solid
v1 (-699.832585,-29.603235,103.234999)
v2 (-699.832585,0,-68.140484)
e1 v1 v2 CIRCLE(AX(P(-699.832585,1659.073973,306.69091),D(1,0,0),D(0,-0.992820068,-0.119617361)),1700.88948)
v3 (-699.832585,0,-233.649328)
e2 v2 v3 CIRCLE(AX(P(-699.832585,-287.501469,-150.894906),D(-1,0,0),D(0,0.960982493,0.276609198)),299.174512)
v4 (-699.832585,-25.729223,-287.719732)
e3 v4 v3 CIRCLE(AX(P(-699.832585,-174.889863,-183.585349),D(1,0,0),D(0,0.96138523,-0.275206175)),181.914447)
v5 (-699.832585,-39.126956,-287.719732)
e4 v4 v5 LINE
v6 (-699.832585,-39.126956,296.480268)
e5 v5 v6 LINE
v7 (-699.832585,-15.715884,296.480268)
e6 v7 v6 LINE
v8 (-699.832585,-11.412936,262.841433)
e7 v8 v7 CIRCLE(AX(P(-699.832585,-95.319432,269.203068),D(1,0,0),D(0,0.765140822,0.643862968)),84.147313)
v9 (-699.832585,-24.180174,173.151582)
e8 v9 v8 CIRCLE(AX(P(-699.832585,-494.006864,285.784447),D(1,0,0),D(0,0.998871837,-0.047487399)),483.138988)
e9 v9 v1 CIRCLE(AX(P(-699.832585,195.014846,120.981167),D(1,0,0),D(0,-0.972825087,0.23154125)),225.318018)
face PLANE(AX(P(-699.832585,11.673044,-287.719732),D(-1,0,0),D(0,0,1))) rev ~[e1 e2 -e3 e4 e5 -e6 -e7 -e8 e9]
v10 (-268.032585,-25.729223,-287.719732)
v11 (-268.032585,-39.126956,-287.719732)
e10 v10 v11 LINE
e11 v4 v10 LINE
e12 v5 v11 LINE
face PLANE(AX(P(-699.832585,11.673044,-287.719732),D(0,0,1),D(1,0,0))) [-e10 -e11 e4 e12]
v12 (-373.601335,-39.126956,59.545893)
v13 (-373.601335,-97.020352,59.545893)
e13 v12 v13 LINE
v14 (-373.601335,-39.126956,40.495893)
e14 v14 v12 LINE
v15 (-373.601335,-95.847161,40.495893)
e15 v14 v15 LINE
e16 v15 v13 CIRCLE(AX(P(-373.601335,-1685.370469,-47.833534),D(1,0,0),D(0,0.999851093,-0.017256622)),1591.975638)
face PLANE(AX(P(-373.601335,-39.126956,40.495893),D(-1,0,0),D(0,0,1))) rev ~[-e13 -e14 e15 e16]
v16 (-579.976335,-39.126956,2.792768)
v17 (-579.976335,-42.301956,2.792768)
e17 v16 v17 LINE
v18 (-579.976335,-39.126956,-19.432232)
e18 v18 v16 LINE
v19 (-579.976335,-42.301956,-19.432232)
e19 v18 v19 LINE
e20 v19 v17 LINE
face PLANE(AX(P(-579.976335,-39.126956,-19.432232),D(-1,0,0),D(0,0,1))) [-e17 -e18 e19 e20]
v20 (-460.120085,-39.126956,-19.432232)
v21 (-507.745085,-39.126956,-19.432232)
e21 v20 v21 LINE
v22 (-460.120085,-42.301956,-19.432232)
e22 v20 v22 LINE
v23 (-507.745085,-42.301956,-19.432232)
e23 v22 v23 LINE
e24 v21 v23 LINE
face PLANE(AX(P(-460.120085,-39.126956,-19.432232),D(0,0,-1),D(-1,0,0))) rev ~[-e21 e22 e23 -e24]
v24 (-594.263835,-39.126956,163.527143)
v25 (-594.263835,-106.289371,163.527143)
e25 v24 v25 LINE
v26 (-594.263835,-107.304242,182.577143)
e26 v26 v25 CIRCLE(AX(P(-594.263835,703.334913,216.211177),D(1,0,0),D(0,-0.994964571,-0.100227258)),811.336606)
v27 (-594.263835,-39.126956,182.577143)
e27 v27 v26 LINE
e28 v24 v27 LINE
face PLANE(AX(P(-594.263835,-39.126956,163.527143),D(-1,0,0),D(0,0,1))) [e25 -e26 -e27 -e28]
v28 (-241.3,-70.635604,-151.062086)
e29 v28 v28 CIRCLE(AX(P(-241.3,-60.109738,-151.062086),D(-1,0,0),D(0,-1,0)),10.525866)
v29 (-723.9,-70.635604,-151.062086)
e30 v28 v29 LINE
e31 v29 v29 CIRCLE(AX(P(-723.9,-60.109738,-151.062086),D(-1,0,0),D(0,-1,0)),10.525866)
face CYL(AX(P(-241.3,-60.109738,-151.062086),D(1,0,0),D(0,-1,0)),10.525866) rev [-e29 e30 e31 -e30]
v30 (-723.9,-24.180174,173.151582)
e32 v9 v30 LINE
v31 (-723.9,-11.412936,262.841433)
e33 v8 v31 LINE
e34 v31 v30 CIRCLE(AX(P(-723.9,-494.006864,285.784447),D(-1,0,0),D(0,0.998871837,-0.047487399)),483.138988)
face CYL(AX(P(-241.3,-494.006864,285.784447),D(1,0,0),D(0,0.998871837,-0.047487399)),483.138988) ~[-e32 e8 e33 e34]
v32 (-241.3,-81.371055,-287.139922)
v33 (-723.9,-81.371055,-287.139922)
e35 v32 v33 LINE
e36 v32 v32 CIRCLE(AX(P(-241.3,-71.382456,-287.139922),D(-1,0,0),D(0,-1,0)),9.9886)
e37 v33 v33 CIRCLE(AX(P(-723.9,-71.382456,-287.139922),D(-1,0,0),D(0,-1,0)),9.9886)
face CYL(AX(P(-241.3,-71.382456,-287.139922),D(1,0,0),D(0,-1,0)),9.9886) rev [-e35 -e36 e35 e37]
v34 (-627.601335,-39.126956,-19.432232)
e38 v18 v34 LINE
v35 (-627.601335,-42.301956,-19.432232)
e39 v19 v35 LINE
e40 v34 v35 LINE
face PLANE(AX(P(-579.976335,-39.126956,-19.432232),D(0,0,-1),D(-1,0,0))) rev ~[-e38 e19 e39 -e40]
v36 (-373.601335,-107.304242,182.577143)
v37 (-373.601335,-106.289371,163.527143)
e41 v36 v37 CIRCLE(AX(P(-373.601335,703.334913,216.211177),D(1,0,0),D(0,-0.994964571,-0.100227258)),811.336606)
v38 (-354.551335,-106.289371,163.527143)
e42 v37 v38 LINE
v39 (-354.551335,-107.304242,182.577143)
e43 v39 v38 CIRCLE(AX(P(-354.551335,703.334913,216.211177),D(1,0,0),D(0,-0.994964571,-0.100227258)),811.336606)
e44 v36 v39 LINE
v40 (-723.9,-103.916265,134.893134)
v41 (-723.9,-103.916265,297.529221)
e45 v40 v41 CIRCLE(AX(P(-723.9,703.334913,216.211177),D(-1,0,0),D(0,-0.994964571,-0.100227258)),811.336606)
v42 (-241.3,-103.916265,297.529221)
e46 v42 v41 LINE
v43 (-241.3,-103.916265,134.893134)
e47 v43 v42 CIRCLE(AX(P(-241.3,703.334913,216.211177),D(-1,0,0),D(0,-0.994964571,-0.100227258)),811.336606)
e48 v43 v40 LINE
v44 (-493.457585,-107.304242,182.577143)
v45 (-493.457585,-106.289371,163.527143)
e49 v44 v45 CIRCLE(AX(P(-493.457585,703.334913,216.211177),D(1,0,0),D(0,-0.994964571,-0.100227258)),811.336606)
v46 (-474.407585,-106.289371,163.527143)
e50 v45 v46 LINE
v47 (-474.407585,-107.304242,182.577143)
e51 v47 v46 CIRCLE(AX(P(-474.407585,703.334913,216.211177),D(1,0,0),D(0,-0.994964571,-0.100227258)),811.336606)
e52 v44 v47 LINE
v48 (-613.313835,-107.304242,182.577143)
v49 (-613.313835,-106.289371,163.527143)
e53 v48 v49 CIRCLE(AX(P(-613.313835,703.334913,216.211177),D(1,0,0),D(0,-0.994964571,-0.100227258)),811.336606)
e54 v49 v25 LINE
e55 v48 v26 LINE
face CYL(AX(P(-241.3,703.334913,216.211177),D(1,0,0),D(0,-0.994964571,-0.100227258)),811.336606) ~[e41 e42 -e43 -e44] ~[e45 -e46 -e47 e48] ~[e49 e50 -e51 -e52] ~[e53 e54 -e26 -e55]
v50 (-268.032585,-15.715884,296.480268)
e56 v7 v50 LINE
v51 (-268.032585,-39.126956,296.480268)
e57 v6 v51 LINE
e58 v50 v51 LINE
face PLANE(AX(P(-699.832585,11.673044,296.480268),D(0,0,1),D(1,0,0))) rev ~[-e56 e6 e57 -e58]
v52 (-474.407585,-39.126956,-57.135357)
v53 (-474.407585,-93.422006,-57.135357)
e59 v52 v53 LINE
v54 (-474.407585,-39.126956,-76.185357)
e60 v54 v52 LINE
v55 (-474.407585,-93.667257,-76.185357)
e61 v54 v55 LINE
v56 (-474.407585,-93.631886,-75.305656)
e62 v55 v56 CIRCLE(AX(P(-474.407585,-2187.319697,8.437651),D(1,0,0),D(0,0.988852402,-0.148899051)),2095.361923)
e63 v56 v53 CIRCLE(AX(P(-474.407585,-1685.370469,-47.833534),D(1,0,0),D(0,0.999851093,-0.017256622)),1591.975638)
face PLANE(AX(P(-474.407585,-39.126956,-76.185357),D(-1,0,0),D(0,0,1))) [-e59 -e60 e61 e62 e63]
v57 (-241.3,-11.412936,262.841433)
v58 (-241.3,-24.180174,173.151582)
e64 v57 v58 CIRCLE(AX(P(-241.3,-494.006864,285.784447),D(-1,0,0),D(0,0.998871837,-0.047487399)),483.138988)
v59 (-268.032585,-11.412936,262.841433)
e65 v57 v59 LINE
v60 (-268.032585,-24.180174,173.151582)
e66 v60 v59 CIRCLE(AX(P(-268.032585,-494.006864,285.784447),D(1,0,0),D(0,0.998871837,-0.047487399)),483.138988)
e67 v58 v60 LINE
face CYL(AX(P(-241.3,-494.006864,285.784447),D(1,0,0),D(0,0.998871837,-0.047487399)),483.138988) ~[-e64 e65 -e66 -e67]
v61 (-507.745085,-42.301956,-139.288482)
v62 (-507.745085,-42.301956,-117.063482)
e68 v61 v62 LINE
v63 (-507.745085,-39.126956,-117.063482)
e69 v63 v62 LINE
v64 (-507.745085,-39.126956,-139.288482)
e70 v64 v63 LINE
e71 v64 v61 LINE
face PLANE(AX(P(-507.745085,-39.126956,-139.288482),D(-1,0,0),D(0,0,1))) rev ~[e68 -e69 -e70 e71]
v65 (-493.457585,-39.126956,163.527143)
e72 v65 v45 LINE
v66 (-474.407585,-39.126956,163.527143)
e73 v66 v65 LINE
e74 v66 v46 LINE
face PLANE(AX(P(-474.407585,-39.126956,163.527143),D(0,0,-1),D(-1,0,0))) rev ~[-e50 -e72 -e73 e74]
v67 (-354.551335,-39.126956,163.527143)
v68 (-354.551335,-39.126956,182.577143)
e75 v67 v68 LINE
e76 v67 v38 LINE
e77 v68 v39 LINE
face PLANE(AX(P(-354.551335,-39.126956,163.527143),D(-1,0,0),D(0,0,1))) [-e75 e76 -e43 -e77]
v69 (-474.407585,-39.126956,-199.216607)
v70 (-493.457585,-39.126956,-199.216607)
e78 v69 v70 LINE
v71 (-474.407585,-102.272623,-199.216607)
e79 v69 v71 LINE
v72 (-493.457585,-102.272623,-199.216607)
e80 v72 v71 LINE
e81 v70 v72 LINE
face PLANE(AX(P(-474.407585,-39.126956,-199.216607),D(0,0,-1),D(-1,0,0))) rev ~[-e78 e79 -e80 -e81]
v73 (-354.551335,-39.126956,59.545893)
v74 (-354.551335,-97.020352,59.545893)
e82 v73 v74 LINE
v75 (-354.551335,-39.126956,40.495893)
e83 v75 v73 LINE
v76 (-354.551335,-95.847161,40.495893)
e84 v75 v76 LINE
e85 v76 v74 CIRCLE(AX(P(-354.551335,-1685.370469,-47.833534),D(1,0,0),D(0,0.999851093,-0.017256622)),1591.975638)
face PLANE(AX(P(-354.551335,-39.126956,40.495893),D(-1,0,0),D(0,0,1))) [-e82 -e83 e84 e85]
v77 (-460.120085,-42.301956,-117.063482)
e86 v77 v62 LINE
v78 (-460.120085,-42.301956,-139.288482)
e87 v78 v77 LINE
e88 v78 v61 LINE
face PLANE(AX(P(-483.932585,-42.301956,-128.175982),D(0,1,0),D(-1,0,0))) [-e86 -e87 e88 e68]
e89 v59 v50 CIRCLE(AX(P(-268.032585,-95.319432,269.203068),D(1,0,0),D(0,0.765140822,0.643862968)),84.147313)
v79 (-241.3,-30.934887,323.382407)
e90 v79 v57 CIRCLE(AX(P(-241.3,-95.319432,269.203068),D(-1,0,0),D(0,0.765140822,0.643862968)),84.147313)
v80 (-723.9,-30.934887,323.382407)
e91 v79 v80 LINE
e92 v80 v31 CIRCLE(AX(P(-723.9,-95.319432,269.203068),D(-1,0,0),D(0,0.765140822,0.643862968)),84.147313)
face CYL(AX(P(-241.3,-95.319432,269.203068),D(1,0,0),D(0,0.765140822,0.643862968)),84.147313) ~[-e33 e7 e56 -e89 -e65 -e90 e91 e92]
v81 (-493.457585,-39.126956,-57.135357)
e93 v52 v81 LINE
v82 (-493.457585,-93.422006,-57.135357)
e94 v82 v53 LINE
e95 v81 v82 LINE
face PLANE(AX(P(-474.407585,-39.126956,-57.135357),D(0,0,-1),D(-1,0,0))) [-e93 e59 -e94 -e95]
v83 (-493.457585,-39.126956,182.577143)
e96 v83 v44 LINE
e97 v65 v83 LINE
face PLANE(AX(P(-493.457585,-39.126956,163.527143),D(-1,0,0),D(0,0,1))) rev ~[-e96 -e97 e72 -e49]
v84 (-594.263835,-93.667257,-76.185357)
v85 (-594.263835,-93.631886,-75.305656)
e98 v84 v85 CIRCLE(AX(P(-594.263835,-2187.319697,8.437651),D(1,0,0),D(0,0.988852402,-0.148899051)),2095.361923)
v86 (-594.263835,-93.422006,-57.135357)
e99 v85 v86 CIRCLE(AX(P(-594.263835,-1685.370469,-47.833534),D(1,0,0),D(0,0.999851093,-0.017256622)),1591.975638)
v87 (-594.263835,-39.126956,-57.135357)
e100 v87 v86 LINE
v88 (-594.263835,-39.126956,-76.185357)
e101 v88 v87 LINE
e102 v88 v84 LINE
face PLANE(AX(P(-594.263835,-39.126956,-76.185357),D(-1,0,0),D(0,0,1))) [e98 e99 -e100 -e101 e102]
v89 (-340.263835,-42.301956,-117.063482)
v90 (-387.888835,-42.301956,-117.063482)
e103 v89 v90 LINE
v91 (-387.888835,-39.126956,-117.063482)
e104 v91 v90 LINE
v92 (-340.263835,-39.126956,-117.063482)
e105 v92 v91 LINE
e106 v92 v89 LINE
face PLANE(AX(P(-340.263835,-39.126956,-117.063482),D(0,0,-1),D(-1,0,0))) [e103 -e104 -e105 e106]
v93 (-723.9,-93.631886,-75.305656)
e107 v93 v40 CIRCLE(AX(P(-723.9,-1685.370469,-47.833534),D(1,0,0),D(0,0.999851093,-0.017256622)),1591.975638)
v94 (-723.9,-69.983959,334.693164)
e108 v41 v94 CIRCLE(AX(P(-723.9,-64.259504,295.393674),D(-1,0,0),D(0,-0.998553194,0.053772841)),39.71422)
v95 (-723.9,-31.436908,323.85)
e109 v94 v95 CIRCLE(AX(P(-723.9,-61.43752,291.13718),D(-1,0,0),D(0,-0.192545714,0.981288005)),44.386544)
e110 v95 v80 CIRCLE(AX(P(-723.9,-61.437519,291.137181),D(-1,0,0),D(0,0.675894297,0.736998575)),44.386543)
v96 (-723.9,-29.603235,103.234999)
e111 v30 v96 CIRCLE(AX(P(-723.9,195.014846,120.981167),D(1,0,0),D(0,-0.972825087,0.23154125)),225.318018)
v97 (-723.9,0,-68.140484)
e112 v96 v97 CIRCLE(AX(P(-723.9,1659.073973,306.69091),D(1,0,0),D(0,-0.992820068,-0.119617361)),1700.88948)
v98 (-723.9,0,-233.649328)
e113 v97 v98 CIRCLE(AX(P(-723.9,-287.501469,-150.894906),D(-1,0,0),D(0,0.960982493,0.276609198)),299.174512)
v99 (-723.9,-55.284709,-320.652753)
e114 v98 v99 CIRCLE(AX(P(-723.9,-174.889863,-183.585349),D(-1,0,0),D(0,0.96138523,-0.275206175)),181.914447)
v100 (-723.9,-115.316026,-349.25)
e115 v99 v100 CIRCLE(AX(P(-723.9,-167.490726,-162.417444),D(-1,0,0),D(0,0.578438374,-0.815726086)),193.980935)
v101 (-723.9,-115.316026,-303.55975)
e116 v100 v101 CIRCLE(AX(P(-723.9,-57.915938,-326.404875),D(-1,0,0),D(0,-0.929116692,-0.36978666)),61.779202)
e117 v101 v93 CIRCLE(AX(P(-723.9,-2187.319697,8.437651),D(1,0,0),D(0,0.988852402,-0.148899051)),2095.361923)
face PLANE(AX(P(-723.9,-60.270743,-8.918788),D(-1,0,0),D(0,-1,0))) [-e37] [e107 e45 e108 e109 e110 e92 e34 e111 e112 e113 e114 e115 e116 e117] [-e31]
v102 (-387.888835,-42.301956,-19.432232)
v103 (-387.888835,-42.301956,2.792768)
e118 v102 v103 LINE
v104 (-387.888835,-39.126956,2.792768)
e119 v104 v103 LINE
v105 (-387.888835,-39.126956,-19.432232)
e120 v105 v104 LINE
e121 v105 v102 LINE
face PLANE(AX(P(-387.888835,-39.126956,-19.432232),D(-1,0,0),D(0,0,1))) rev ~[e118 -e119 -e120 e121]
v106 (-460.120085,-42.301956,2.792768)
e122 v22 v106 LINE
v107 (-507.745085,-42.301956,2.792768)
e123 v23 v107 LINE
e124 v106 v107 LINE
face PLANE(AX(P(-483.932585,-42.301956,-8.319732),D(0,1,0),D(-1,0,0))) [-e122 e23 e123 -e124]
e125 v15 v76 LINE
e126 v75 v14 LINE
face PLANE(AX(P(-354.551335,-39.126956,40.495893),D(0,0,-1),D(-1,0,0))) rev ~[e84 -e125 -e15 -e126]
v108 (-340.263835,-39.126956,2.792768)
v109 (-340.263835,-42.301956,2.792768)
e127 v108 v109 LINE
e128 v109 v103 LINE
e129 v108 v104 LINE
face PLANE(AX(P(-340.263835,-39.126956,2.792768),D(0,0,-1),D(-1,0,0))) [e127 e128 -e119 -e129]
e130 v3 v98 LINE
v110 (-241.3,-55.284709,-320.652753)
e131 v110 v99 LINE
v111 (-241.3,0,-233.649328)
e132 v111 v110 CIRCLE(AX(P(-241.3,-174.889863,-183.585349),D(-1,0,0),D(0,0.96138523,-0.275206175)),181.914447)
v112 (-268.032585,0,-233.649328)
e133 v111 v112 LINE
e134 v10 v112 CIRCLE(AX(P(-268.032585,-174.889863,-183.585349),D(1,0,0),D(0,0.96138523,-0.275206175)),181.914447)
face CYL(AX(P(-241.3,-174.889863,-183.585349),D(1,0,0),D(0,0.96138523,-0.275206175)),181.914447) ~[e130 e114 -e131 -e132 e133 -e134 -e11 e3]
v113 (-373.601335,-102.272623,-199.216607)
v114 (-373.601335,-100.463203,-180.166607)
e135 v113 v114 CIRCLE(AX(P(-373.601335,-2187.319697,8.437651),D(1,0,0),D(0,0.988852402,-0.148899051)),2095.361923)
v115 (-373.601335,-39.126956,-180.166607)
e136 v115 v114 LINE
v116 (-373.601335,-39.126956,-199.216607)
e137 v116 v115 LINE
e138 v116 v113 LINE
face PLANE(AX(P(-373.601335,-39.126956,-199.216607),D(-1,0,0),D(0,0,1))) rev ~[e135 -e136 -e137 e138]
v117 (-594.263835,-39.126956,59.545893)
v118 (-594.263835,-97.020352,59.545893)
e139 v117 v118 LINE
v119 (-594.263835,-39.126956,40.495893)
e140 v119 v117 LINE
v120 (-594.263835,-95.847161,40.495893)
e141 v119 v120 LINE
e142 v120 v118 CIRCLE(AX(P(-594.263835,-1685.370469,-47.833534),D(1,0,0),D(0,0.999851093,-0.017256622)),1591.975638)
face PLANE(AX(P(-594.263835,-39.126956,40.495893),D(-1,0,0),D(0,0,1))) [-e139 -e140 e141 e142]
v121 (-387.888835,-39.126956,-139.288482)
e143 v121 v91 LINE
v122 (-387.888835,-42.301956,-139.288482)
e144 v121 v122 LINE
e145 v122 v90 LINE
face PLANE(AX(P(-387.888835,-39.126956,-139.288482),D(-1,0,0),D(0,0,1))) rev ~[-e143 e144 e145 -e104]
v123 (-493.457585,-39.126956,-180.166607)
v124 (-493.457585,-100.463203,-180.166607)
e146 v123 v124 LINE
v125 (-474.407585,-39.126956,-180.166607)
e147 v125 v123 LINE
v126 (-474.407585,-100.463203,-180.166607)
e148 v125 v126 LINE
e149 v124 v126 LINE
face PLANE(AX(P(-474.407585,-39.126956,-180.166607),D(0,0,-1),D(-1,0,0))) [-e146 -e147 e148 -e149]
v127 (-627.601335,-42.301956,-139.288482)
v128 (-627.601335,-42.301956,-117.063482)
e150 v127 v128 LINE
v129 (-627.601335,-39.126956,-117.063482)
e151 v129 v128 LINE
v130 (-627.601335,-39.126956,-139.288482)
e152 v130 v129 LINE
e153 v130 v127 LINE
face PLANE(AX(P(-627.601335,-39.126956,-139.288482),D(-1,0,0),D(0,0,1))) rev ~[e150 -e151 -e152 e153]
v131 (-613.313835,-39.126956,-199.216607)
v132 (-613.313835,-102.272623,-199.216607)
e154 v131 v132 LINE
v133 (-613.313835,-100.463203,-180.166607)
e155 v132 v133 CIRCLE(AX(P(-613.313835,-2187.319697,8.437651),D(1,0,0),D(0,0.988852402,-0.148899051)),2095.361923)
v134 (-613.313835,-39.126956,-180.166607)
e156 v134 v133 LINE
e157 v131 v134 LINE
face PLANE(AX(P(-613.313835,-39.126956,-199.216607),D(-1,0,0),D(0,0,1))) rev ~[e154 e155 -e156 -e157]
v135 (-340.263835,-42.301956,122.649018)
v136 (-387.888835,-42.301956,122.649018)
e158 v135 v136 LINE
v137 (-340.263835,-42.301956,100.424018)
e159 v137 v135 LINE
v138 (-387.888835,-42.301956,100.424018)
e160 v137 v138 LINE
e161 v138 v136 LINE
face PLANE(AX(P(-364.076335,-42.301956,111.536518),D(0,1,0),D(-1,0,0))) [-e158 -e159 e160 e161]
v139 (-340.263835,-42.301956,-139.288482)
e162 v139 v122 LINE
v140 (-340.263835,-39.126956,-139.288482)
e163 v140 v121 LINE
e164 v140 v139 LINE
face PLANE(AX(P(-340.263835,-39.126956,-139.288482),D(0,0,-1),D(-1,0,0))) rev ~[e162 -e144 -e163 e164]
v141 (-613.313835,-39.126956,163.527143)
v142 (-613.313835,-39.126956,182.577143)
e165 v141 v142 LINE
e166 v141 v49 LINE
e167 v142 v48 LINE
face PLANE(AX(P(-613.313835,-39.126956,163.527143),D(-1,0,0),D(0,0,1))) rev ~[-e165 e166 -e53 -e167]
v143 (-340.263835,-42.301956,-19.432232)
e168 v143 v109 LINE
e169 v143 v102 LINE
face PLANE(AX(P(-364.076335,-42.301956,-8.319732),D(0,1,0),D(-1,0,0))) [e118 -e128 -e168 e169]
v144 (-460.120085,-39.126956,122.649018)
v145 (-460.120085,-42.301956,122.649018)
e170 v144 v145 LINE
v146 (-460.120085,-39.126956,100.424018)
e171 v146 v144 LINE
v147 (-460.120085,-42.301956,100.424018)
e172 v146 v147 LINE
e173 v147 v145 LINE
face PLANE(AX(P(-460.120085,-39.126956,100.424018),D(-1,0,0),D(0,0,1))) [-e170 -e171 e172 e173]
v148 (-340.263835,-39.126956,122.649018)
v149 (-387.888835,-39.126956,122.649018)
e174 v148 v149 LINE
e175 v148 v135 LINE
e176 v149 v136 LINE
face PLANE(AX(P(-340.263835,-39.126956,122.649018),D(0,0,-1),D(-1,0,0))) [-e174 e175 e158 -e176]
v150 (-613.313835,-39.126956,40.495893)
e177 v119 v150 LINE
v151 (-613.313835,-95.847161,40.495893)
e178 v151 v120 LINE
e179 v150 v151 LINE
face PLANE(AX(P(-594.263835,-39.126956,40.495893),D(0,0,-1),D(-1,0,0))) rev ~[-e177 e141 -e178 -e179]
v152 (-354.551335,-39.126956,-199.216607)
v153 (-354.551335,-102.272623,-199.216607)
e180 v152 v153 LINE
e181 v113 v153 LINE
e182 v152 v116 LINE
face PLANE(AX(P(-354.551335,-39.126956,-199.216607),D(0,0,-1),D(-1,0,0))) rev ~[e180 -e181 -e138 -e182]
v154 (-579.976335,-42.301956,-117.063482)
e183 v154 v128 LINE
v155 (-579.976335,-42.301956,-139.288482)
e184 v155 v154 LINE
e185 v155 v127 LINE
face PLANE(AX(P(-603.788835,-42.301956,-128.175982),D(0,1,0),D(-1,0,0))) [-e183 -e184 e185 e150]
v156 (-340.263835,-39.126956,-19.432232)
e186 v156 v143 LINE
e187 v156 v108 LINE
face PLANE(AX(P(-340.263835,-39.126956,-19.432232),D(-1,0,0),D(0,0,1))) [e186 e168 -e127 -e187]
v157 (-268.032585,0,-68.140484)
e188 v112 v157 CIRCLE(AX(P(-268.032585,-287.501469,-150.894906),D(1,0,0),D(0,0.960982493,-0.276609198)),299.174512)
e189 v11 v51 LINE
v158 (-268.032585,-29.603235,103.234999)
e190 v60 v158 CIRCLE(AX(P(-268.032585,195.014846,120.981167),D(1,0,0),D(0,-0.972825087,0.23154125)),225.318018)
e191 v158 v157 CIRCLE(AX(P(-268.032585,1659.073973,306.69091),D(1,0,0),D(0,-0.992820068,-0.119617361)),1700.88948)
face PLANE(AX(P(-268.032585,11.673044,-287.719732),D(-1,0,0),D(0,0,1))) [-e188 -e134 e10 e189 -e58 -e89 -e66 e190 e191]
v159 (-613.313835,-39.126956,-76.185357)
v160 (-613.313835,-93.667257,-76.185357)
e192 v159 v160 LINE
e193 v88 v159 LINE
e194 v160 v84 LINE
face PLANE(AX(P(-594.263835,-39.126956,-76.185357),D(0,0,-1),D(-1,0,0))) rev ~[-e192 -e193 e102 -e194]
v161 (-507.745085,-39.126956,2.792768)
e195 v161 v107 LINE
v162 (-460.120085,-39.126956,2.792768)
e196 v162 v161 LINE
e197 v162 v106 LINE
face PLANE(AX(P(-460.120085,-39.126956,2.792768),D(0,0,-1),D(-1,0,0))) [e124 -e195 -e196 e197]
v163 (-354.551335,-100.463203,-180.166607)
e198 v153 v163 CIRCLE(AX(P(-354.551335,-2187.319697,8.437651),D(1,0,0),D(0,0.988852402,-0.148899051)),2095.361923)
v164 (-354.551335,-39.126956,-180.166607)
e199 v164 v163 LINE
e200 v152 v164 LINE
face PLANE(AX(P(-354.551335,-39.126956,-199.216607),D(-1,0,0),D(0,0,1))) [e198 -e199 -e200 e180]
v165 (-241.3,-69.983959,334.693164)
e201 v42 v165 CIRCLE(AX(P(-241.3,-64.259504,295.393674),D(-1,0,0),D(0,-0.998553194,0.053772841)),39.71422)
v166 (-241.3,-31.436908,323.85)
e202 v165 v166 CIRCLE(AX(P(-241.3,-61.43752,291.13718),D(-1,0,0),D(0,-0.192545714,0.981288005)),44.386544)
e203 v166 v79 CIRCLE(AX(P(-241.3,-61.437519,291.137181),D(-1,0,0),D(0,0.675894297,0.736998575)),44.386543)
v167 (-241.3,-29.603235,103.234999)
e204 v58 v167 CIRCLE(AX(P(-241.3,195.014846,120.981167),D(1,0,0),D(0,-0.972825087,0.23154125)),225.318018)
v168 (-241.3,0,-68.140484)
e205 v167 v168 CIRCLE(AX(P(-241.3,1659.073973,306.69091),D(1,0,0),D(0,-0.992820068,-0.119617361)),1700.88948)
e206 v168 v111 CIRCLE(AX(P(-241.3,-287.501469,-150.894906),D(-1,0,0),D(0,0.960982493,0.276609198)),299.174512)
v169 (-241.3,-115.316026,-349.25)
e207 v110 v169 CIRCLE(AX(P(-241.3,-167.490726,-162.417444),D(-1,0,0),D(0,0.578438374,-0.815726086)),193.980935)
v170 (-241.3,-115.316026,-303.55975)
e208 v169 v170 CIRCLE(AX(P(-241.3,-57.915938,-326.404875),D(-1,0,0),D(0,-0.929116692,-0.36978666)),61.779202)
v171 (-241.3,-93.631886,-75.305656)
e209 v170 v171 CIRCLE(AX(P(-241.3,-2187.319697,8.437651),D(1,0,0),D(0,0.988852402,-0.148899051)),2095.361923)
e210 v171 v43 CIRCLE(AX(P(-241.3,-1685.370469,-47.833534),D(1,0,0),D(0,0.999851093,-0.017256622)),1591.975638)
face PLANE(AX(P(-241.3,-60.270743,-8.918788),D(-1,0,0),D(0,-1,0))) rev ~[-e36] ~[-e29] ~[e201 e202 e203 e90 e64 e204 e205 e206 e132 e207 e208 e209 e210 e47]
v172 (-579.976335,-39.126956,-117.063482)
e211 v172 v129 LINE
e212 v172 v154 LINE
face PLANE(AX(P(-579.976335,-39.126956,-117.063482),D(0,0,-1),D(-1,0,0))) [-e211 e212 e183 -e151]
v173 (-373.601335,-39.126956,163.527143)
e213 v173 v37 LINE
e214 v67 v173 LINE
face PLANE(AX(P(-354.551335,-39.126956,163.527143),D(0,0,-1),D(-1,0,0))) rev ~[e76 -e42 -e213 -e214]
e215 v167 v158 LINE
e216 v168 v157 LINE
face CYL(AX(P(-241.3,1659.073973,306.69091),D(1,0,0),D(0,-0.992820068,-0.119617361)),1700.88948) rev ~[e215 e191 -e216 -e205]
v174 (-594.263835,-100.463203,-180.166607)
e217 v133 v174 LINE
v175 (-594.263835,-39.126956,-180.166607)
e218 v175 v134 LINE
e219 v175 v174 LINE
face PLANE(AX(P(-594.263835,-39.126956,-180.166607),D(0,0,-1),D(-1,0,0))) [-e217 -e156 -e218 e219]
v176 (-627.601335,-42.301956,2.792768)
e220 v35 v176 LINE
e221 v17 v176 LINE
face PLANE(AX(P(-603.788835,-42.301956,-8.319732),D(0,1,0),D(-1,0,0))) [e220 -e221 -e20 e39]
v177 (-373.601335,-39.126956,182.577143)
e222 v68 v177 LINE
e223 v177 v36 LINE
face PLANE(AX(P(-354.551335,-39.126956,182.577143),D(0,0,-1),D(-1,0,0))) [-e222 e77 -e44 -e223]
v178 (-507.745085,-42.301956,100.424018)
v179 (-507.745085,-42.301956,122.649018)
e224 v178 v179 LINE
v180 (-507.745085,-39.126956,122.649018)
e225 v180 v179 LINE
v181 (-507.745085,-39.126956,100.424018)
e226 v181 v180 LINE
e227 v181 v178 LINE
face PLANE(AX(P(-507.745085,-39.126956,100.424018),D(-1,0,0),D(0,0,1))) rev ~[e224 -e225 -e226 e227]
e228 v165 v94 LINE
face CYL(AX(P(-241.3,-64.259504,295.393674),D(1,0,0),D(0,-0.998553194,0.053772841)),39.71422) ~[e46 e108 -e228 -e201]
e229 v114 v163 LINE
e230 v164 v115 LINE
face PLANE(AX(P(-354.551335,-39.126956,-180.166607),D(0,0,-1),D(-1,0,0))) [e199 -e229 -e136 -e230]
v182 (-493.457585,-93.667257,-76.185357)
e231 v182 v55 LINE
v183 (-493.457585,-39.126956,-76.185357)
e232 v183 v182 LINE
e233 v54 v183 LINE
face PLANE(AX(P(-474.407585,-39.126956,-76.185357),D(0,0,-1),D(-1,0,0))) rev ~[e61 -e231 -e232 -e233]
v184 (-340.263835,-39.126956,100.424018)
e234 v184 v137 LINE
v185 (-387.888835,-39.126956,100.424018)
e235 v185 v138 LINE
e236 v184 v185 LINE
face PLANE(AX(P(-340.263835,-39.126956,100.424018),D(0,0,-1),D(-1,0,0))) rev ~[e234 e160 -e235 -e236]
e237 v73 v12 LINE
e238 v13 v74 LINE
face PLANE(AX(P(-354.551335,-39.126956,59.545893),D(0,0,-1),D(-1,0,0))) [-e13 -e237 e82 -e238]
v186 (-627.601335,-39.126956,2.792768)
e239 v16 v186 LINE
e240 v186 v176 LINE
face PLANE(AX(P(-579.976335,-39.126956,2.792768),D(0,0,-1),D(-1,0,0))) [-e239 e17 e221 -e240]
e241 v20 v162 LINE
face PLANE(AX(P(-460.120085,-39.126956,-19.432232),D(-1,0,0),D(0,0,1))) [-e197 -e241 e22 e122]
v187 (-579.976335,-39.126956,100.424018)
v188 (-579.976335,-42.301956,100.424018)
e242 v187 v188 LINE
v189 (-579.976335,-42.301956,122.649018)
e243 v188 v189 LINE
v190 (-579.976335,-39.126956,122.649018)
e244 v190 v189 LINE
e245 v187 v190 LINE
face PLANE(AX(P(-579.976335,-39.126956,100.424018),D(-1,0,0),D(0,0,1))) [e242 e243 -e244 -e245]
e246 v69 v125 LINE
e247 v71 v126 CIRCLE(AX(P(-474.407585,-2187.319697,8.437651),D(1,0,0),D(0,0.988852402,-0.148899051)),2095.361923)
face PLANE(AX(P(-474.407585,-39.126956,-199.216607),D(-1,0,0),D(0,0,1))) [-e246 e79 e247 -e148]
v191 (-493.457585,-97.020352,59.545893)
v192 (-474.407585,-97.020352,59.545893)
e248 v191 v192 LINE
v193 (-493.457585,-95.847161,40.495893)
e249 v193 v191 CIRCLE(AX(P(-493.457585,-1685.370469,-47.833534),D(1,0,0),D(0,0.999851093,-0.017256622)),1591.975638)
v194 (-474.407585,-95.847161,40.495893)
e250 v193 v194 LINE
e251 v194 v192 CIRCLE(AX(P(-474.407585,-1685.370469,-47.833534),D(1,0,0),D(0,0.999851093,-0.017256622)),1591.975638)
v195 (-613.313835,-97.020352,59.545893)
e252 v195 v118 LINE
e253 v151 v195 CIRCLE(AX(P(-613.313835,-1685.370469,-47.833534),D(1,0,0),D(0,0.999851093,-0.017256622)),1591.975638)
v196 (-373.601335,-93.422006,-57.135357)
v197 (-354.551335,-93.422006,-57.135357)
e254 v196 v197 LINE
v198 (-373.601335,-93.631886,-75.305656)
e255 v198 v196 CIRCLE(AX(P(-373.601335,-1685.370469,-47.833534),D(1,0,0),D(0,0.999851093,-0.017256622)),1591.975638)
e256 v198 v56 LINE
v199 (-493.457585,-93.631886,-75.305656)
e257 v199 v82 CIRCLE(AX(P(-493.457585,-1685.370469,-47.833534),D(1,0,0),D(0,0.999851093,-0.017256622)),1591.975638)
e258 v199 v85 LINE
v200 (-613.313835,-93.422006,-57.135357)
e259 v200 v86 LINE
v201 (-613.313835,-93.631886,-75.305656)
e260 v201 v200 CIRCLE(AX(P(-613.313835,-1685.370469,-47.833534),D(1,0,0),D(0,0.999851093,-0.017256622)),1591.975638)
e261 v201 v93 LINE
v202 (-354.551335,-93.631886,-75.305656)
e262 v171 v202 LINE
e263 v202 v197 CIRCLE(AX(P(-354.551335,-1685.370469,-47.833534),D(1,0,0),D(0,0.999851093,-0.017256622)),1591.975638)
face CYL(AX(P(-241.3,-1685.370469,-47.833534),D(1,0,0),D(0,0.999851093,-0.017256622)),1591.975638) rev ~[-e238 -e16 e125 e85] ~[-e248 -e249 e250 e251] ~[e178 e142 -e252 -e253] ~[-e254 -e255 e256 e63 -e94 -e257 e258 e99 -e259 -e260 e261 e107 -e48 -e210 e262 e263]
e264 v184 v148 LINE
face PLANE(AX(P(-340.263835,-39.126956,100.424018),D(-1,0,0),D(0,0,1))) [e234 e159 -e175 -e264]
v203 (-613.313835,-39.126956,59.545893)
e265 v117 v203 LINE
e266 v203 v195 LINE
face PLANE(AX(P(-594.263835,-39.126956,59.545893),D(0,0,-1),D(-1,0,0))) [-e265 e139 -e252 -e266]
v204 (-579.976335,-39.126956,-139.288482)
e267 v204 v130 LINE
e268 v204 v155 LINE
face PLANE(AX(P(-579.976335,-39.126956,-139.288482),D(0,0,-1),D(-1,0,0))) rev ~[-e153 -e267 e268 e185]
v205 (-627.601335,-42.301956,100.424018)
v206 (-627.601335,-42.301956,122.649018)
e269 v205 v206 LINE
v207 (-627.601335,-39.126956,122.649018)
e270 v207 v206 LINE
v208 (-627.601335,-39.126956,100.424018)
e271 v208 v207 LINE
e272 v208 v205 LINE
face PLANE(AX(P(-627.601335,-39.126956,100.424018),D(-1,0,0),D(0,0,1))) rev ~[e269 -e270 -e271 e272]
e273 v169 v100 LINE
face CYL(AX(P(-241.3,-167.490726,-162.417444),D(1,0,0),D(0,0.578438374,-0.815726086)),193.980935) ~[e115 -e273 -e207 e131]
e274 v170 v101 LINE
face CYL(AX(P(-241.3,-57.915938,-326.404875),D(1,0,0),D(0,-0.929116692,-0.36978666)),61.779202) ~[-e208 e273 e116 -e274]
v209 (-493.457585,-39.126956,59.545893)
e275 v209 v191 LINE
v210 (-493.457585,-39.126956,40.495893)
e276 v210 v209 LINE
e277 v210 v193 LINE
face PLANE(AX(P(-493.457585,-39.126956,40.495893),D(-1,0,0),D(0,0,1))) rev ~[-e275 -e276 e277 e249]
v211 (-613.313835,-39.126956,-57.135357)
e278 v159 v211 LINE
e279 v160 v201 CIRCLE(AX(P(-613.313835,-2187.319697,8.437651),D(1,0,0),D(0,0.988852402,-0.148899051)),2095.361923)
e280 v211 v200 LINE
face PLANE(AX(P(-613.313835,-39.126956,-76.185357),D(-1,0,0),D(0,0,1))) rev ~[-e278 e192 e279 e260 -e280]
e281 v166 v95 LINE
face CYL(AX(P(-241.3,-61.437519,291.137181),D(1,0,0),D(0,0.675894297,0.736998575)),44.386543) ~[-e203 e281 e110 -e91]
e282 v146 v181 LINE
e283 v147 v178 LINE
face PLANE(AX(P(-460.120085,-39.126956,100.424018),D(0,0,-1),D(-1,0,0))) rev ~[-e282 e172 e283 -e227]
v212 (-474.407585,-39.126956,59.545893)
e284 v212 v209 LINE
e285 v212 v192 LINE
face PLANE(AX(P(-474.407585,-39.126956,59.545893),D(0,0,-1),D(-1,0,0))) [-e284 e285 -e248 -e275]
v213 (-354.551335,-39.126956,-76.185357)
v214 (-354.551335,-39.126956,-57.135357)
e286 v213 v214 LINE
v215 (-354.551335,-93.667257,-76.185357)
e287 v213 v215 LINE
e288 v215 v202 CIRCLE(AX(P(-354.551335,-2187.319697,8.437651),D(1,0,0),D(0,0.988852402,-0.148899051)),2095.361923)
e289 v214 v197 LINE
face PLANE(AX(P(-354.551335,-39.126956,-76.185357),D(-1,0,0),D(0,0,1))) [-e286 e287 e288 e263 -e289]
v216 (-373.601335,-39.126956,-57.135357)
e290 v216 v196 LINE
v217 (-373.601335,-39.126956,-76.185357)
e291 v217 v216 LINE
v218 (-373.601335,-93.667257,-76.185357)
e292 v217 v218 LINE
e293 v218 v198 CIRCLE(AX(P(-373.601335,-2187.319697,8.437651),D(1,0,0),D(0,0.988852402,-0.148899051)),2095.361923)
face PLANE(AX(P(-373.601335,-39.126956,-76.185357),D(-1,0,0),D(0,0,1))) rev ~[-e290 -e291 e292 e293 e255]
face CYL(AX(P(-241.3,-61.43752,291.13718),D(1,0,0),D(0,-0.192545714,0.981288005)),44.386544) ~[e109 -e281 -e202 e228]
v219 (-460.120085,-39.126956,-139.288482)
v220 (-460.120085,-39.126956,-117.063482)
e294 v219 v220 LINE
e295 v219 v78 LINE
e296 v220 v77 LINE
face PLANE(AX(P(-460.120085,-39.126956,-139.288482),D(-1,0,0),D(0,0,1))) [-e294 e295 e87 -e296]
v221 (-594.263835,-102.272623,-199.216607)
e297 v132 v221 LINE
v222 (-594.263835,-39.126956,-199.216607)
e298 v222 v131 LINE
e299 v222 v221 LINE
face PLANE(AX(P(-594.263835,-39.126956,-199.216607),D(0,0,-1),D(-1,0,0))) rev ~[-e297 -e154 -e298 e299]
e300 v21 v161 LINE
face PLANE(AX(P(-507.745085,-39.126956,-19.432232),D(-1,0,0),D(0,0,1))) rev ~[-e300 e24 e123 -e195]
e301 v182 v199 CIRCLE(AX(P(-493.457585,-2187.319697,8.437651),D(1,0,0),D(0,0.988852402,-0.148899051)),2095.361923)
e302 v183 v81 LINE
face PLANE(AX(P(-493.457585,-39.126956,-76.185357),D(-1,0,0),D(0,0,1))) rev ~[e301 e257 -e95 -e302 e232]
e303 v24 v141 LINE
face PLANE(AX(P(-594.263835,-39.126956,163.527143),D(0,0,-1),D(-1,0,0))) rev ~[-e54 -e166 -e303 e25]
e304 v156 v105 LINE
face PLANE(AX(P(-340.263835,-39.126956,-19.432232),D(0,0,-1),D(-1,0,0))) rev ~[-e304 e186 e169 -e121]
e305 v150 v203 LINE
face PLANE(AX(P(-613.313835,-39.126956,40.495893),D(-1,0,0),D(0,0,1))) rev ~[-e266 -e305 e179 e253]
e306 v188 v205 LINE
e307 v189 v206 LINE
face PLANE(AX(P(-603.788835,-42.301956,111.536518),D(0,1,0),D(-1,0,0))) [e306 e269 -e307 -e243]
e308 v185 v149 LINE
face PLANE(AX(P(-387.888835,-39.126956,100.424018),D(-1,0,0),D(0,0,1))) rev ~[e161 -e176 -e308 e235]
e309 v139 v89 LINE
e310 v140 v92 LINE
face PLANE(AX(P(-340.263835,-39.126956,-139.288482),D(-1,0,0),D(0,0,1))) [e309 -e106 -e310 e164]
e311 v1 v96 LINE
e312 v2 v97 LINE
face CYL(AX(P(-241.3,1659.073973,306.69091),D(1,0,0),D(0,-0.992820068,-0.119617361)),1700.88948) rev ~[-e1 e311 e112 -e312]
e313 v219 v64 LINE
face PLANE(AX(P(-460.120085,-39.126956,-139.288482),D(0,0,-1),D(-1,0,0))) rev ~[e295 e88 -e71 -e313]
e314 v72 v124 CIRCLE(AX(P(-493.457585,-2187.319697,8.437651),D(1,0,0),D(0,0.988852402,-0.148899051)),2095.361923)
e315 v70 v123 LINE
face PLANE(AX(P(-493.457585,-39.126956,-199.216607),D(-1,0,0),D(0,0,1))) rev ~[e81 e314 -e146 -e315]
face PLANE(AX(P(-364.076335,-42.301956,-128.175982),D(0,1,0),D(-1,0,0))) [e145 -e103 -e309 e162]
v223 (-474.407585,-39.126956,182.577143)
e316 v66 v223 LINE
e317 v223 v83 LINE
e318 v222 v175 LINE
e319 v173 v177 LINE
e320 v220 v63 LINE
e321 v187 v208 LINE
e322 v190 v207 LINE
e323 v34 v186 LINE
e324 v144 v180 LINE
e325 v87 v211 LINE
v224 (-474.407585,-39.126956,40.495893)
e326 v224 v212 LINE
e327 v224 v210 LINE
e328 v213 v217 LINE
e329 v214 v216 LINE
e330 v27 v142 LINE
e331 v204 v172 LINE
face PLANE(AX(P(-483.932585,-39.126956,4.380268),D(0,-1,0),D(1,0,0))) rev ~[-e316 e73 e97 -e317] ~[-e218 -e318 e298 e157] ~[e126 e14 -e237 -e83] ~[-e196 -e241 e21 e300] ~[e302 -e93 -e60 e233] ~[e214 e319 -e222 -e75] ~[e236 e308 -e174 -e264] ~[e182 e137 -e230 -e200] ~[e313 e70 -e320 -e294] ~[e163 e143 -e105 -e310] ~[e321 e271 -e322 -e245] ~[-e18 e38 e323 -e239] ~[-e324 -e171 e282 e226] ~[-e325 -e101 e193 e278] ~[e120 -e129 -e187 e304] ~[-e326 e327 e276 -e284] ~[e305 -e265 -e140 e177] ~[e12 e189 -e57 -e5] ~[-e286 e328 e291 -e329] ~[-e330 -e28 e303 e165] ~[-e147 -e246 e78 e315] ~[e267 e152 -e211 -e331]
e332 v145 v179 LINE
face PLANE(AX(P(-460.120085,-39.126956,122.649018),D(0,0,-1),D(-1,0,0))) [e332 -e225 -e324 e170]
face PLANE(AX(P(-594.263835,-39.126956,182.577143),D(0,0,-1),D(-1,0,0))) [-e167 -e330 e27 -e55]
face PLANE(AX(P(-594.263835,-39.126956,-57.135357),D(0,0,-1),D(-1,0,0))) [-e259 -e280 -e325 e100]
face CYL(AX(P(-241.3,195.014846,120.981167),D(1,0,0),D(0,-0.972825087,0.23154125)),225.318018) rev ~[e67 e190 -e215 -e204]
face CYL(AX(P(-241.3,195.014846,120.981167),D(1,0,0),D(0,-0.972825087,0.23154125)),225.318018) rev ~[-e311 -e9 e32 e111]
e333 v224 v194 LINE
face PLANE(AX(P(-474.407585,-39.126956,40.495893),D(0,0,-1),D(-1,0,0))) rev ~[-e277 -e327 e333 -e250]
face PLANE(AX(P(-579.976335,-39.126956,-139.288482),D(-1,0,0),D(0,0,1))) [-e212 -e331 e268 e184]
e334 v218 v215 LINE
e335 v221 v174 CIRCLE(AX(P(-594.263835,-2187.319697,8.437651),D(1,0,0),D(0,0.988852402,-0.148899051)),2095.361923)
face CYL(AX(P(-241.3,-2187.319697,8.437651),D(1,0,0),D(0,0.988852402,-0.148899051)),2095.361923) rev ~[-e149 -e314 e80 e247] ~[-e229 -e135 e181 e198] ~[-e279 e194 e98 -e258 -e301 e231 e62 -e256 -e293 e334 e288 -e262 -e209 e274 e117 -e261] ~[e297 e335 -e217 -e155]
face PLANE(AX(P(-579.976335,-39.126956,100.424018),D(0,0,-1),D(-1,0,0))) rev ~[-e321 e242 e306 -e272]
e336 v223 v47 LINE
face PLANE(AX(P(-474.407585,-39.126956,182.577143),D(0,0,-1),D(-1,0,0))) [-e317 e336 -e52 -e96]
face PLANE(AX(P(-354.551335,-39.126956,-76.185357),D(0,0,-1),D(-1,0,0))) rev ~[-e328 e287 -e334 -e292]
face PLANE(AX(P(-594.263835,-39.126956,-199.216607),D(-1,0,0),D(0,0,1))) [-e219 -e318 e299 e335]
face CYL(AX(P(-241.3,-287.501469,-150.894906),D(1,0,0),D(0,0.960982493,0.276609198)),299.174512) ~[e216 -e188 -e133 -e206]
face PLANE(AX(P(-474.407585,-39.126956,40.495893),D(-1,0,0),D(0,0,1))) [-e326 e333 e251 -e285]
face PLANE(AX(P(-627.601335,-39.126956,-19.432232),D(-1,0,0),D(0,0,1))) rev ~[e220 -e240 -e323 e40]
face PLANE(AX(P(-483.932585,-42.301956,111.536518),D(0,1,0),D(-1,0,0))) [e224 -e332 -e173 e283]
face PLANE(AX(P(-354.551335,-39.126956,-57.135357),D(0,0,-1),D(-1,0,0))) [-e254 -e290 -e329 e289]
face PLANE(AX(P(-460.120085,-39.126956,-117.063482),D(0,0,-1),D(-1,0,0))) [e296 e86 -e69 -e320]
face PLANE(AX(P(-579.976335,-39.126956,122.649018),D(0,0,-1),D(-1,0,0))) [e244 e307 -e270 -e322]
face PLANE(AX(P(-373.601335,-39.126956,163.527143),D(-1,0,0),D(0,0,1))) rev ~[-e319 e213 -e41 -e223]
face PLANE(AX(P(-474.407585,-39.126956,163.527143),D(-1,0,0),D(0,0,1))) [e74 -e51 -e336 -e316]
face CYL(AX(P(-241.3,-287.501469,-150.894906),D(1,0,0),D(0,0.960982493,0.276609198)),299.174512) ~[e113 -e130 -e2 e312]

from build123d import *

# Parameters (mm, degrees)
F1_DEPTH  = 120.65
F2_R      = 9.9885996102
F2_R_2    = 10.5258660688
F3_DEPTH  = 482.6
F4_W      = 344.8911011219
F4_H      = 764.6993398666
F4_W_2    = 120.65
F4_H_2    = 673.1
F5_DEPTH  = 482.6
F8_W      = 431.8
F8_H      = 584.2
F9_DEPTH  = 50.8
F10_W     = 19.05
F10_H     = 19.05
F11_DEPTH = 95.25
F10_W_2   = 47.625
F10_H_2   = 22.225
F12_DEPTH = 3.175


with BuildPart() as f1:
    # F0 (on Front) → F1 (new body)
    with BuildSketch(Plane.XZ):
        with BuildLine():
            Line((-241.3, 323.85), (-241.3, -349.25))
            Line((-241.3, -349.25), (241.3, -349.25))
            Line((241.3, -349.25), (241.3, 323.85))
            ThreePointArc((241.3, 323.85), (0, 349.25), (-241.3, 323.85))
        make_face()
    extrude(amount=F1_DEPTH)

    # F4 (on face) → F5 (cut)
    with BuildSketch(Plane.YZ.offset(241.3)):
        with Locations((-53.2562285662, 11.3563537598)):
            Rectangle(F4_W, F4_H)
        with Locations((-60.325, -12.7)):
            Rectangle(F4_W_2, F4_H_2, mode=Mode.SUBTRACT)
        with Locations((-60.325, -12.7)):
            Rectangle(F4_W_2, F4_H_2)
    extrude(amount=-F5_DEPTH, mode=Mode.SUBTRACT)


with BuildPart() as f3:
    # F2 (on face) → F3 (new body)
    with BuildSketch(Plane(origin=(-241.3, 0, 0), x_dir=(0, -1, 0), z_dir=(-1, 0, 0))):
        with BuildLine():
            Line((0, -68.1404843926), (0, -233.649328351))
            ThreePointArc((0, -233.649328351), (21.350852379, -281.1488587038), (55.2847087383, -320.6527531147))
            ThreePointArc((55.2847087383, -320.6527531147), (84.0658754315, -337.5428209275), (115.3160259128, -349.25))
            ThreePointArc((115.3160259128, -349.25), (119.6951401667, -326.4048751593), (115.3160259128, -303.5597503185))
            ThreePointArc((115.3160259128, -303.5597503185), (101.3495716057, -189.7295194826), (93.6318859458, -75.3056555986))
            ThreePointArc((93.6318859458, -75.3056555986), (95.2968862194, 29.9638674769), (103.9162650704, 134.8931342363))
            ThreePointArc((103.9162650704, 134.8931342363), (108.0016932489, 216.2111774087), (103.9162650704, 297.5292205811))
            ThreePointArc((103.9162650704, 297.5292205811), (100.4192959768, 311.8158756468), (91.9625142686, 323.85))
            Line((91.9625142686, 323.85), (31.436908019, 323.85))
            ThreePointArc((31.436908019, 323.85), (31.1849940922, 323.6171736523), (30.9348870069, 323.3824074268))
            ThreePointArc((30.9348870069, 323.3824074268), (15.2328502157, 295.0276660156), (11.4129362628, 262.8414332867))
            ThreePointArc((11.4129362628, 262.8414332867), (15.6896829727, 217.6965972865), (24.1801738739, 173.1515824795))
            ThreePointArc((24.1801738739, 173.1515824795), (29.6284254011, 138.4055637112), (29.6032354236, 103.2349988818))
            ThreePointArc((29.6032354236, 103.2349988818), (16.9934129505, 17.1686486524), (0, -68.1404843926))
        make_face()
        with Locations((71.3824555278, -287.1399223804)):
            Circle(F2_R, mode=Mode.SUBTRACT)
        with Locations((60.1097382605, -151.0620862246)):
            Circle(F2_R_2, mode=Mode.SUBTRACT)
        with BuildLine():
            ThreePointArc((69.983959198, 334.6931636333), (49.4182050819, 333.8654070908), (31.436908019, 323.85))
            Line((31.436908019, 323.85), (91.9625142686, 323.85))
            ThreePointArc((91.9625142686, 323.85), (81.8305714463, 331.0093567724), (69.983959198, 334.6931636333))
        make_face()
        with BuildLine():
            ThreePointArc((0, -68.1404843926), (-11.673043687, -150.8949063718), (0, -233.649328351))
            Line((0, -233.649328351), (0, -68.1404843926))
        make_face()
    extrude(amount=F3_DEPTH)

    # F8 (on plane+point) → F9 (cut)
    with BuildSketch(Plane.XZ.offset(-11.673043687)):
        with Locations((-483.9325845242, 4.38026824)):
            Rectangle(F8_W, F8_H)
    extrude(amount=F9_DEPTH, mode=Mode.SUBTRACT)

    # F10 (on face) → F11 (cut)
    with BuildSketch(Plane(origin=(0, -39.126956313, 0), x_dir=(-1, 0, 0), z_dir=(0, 1, 0))):
        with Locations((364.0763345242, 173.05214324)):
            Rectangle(F10_W, F10_H)
        with Locations((483.9325845242, 173.05214324)):
            Rectangle(F10_W, F10_H)
        with Locations((603.7888345242, 173.05214324)):
            Rectangle(F10_W, F10_H)
        with Locations((364.0763345242, 50.02089324)):
            Rectangle(F10_W, F10_H)
        with Locations((483.9325845242, 50.02089324)):
            Rectangle(F10_W, F10_H)
        with Locations((603.7888345242, 50.02089324)):
            Rectangle(F10_W, F10_H)
        with Locations((603.7888345242, -66.66035676)):
            Rectangle(F10_W, F10_H)
        with Locations((483.9325845242, -66.66035676)):
            Rectangle(F10_W, F10_H)
        with Locations((364.0763345242, -66.66035676)):
            Rectangle(F10_W, F10_H)
        with Locations((364.0763345242, -189.69160676)):
            Rectangle(F10_W, F10_H)
        with Locations((483.9325845242, -189.69160676)):
            Rectangle(F10_W, F10_H)
        with Locations((603.7888345242, -189.69160676)):
            Rectangle(F10_W, F10_H)
    extrude(amount=-F11_DEPTH, mode=Mode.SUBTRACT)

    # F10 (on face) → F12 (cut)
    with BuildSketch(Plane(origin=(0, -39.126956313, 0), x_dir=(-1, 0, 0), z_dir=(0, 1, 0))):
        with Locations((364.0763345242, 111.53651824)):
            Rectangle(F10_W_2, F10_H_2)
        with Locations((483.9325845242, 111.53651824)):
            Rectangle(F10_W_2, F10_H_2)
        with Locations((603.7888345242, 111.53651824)):
            Rectangle(F10_W_2, F10_H_2)
        with Locations((364.0763345242, -8.31973176)):
            Rectangle(F10_W_2, F10_H_2)
        with Locations((483.9325845242, -8.31973176)):
            Rectangle(F10_W_2, F10_H_2)
        with Locations((603.7888345242, -8.31973176)):
            Rectangle(F10_W_2, F10_H_2)
        with Locations((603.7888345242, -128.17598176)):
            Rectangle(F10_W_2, F10_H_2)
        with Locations((483.9325845242, -128.17598176)):
            Rectangle(F10_W_2, F10_H_2)
        with Locations((364.0763345242, -128.17598176)):
            Rectangle(F10_W_2, F10_H_2)
    extrude(amount=-F12_DEPTH, mode=Mode.SUBTRACT)


solid = f3.part
